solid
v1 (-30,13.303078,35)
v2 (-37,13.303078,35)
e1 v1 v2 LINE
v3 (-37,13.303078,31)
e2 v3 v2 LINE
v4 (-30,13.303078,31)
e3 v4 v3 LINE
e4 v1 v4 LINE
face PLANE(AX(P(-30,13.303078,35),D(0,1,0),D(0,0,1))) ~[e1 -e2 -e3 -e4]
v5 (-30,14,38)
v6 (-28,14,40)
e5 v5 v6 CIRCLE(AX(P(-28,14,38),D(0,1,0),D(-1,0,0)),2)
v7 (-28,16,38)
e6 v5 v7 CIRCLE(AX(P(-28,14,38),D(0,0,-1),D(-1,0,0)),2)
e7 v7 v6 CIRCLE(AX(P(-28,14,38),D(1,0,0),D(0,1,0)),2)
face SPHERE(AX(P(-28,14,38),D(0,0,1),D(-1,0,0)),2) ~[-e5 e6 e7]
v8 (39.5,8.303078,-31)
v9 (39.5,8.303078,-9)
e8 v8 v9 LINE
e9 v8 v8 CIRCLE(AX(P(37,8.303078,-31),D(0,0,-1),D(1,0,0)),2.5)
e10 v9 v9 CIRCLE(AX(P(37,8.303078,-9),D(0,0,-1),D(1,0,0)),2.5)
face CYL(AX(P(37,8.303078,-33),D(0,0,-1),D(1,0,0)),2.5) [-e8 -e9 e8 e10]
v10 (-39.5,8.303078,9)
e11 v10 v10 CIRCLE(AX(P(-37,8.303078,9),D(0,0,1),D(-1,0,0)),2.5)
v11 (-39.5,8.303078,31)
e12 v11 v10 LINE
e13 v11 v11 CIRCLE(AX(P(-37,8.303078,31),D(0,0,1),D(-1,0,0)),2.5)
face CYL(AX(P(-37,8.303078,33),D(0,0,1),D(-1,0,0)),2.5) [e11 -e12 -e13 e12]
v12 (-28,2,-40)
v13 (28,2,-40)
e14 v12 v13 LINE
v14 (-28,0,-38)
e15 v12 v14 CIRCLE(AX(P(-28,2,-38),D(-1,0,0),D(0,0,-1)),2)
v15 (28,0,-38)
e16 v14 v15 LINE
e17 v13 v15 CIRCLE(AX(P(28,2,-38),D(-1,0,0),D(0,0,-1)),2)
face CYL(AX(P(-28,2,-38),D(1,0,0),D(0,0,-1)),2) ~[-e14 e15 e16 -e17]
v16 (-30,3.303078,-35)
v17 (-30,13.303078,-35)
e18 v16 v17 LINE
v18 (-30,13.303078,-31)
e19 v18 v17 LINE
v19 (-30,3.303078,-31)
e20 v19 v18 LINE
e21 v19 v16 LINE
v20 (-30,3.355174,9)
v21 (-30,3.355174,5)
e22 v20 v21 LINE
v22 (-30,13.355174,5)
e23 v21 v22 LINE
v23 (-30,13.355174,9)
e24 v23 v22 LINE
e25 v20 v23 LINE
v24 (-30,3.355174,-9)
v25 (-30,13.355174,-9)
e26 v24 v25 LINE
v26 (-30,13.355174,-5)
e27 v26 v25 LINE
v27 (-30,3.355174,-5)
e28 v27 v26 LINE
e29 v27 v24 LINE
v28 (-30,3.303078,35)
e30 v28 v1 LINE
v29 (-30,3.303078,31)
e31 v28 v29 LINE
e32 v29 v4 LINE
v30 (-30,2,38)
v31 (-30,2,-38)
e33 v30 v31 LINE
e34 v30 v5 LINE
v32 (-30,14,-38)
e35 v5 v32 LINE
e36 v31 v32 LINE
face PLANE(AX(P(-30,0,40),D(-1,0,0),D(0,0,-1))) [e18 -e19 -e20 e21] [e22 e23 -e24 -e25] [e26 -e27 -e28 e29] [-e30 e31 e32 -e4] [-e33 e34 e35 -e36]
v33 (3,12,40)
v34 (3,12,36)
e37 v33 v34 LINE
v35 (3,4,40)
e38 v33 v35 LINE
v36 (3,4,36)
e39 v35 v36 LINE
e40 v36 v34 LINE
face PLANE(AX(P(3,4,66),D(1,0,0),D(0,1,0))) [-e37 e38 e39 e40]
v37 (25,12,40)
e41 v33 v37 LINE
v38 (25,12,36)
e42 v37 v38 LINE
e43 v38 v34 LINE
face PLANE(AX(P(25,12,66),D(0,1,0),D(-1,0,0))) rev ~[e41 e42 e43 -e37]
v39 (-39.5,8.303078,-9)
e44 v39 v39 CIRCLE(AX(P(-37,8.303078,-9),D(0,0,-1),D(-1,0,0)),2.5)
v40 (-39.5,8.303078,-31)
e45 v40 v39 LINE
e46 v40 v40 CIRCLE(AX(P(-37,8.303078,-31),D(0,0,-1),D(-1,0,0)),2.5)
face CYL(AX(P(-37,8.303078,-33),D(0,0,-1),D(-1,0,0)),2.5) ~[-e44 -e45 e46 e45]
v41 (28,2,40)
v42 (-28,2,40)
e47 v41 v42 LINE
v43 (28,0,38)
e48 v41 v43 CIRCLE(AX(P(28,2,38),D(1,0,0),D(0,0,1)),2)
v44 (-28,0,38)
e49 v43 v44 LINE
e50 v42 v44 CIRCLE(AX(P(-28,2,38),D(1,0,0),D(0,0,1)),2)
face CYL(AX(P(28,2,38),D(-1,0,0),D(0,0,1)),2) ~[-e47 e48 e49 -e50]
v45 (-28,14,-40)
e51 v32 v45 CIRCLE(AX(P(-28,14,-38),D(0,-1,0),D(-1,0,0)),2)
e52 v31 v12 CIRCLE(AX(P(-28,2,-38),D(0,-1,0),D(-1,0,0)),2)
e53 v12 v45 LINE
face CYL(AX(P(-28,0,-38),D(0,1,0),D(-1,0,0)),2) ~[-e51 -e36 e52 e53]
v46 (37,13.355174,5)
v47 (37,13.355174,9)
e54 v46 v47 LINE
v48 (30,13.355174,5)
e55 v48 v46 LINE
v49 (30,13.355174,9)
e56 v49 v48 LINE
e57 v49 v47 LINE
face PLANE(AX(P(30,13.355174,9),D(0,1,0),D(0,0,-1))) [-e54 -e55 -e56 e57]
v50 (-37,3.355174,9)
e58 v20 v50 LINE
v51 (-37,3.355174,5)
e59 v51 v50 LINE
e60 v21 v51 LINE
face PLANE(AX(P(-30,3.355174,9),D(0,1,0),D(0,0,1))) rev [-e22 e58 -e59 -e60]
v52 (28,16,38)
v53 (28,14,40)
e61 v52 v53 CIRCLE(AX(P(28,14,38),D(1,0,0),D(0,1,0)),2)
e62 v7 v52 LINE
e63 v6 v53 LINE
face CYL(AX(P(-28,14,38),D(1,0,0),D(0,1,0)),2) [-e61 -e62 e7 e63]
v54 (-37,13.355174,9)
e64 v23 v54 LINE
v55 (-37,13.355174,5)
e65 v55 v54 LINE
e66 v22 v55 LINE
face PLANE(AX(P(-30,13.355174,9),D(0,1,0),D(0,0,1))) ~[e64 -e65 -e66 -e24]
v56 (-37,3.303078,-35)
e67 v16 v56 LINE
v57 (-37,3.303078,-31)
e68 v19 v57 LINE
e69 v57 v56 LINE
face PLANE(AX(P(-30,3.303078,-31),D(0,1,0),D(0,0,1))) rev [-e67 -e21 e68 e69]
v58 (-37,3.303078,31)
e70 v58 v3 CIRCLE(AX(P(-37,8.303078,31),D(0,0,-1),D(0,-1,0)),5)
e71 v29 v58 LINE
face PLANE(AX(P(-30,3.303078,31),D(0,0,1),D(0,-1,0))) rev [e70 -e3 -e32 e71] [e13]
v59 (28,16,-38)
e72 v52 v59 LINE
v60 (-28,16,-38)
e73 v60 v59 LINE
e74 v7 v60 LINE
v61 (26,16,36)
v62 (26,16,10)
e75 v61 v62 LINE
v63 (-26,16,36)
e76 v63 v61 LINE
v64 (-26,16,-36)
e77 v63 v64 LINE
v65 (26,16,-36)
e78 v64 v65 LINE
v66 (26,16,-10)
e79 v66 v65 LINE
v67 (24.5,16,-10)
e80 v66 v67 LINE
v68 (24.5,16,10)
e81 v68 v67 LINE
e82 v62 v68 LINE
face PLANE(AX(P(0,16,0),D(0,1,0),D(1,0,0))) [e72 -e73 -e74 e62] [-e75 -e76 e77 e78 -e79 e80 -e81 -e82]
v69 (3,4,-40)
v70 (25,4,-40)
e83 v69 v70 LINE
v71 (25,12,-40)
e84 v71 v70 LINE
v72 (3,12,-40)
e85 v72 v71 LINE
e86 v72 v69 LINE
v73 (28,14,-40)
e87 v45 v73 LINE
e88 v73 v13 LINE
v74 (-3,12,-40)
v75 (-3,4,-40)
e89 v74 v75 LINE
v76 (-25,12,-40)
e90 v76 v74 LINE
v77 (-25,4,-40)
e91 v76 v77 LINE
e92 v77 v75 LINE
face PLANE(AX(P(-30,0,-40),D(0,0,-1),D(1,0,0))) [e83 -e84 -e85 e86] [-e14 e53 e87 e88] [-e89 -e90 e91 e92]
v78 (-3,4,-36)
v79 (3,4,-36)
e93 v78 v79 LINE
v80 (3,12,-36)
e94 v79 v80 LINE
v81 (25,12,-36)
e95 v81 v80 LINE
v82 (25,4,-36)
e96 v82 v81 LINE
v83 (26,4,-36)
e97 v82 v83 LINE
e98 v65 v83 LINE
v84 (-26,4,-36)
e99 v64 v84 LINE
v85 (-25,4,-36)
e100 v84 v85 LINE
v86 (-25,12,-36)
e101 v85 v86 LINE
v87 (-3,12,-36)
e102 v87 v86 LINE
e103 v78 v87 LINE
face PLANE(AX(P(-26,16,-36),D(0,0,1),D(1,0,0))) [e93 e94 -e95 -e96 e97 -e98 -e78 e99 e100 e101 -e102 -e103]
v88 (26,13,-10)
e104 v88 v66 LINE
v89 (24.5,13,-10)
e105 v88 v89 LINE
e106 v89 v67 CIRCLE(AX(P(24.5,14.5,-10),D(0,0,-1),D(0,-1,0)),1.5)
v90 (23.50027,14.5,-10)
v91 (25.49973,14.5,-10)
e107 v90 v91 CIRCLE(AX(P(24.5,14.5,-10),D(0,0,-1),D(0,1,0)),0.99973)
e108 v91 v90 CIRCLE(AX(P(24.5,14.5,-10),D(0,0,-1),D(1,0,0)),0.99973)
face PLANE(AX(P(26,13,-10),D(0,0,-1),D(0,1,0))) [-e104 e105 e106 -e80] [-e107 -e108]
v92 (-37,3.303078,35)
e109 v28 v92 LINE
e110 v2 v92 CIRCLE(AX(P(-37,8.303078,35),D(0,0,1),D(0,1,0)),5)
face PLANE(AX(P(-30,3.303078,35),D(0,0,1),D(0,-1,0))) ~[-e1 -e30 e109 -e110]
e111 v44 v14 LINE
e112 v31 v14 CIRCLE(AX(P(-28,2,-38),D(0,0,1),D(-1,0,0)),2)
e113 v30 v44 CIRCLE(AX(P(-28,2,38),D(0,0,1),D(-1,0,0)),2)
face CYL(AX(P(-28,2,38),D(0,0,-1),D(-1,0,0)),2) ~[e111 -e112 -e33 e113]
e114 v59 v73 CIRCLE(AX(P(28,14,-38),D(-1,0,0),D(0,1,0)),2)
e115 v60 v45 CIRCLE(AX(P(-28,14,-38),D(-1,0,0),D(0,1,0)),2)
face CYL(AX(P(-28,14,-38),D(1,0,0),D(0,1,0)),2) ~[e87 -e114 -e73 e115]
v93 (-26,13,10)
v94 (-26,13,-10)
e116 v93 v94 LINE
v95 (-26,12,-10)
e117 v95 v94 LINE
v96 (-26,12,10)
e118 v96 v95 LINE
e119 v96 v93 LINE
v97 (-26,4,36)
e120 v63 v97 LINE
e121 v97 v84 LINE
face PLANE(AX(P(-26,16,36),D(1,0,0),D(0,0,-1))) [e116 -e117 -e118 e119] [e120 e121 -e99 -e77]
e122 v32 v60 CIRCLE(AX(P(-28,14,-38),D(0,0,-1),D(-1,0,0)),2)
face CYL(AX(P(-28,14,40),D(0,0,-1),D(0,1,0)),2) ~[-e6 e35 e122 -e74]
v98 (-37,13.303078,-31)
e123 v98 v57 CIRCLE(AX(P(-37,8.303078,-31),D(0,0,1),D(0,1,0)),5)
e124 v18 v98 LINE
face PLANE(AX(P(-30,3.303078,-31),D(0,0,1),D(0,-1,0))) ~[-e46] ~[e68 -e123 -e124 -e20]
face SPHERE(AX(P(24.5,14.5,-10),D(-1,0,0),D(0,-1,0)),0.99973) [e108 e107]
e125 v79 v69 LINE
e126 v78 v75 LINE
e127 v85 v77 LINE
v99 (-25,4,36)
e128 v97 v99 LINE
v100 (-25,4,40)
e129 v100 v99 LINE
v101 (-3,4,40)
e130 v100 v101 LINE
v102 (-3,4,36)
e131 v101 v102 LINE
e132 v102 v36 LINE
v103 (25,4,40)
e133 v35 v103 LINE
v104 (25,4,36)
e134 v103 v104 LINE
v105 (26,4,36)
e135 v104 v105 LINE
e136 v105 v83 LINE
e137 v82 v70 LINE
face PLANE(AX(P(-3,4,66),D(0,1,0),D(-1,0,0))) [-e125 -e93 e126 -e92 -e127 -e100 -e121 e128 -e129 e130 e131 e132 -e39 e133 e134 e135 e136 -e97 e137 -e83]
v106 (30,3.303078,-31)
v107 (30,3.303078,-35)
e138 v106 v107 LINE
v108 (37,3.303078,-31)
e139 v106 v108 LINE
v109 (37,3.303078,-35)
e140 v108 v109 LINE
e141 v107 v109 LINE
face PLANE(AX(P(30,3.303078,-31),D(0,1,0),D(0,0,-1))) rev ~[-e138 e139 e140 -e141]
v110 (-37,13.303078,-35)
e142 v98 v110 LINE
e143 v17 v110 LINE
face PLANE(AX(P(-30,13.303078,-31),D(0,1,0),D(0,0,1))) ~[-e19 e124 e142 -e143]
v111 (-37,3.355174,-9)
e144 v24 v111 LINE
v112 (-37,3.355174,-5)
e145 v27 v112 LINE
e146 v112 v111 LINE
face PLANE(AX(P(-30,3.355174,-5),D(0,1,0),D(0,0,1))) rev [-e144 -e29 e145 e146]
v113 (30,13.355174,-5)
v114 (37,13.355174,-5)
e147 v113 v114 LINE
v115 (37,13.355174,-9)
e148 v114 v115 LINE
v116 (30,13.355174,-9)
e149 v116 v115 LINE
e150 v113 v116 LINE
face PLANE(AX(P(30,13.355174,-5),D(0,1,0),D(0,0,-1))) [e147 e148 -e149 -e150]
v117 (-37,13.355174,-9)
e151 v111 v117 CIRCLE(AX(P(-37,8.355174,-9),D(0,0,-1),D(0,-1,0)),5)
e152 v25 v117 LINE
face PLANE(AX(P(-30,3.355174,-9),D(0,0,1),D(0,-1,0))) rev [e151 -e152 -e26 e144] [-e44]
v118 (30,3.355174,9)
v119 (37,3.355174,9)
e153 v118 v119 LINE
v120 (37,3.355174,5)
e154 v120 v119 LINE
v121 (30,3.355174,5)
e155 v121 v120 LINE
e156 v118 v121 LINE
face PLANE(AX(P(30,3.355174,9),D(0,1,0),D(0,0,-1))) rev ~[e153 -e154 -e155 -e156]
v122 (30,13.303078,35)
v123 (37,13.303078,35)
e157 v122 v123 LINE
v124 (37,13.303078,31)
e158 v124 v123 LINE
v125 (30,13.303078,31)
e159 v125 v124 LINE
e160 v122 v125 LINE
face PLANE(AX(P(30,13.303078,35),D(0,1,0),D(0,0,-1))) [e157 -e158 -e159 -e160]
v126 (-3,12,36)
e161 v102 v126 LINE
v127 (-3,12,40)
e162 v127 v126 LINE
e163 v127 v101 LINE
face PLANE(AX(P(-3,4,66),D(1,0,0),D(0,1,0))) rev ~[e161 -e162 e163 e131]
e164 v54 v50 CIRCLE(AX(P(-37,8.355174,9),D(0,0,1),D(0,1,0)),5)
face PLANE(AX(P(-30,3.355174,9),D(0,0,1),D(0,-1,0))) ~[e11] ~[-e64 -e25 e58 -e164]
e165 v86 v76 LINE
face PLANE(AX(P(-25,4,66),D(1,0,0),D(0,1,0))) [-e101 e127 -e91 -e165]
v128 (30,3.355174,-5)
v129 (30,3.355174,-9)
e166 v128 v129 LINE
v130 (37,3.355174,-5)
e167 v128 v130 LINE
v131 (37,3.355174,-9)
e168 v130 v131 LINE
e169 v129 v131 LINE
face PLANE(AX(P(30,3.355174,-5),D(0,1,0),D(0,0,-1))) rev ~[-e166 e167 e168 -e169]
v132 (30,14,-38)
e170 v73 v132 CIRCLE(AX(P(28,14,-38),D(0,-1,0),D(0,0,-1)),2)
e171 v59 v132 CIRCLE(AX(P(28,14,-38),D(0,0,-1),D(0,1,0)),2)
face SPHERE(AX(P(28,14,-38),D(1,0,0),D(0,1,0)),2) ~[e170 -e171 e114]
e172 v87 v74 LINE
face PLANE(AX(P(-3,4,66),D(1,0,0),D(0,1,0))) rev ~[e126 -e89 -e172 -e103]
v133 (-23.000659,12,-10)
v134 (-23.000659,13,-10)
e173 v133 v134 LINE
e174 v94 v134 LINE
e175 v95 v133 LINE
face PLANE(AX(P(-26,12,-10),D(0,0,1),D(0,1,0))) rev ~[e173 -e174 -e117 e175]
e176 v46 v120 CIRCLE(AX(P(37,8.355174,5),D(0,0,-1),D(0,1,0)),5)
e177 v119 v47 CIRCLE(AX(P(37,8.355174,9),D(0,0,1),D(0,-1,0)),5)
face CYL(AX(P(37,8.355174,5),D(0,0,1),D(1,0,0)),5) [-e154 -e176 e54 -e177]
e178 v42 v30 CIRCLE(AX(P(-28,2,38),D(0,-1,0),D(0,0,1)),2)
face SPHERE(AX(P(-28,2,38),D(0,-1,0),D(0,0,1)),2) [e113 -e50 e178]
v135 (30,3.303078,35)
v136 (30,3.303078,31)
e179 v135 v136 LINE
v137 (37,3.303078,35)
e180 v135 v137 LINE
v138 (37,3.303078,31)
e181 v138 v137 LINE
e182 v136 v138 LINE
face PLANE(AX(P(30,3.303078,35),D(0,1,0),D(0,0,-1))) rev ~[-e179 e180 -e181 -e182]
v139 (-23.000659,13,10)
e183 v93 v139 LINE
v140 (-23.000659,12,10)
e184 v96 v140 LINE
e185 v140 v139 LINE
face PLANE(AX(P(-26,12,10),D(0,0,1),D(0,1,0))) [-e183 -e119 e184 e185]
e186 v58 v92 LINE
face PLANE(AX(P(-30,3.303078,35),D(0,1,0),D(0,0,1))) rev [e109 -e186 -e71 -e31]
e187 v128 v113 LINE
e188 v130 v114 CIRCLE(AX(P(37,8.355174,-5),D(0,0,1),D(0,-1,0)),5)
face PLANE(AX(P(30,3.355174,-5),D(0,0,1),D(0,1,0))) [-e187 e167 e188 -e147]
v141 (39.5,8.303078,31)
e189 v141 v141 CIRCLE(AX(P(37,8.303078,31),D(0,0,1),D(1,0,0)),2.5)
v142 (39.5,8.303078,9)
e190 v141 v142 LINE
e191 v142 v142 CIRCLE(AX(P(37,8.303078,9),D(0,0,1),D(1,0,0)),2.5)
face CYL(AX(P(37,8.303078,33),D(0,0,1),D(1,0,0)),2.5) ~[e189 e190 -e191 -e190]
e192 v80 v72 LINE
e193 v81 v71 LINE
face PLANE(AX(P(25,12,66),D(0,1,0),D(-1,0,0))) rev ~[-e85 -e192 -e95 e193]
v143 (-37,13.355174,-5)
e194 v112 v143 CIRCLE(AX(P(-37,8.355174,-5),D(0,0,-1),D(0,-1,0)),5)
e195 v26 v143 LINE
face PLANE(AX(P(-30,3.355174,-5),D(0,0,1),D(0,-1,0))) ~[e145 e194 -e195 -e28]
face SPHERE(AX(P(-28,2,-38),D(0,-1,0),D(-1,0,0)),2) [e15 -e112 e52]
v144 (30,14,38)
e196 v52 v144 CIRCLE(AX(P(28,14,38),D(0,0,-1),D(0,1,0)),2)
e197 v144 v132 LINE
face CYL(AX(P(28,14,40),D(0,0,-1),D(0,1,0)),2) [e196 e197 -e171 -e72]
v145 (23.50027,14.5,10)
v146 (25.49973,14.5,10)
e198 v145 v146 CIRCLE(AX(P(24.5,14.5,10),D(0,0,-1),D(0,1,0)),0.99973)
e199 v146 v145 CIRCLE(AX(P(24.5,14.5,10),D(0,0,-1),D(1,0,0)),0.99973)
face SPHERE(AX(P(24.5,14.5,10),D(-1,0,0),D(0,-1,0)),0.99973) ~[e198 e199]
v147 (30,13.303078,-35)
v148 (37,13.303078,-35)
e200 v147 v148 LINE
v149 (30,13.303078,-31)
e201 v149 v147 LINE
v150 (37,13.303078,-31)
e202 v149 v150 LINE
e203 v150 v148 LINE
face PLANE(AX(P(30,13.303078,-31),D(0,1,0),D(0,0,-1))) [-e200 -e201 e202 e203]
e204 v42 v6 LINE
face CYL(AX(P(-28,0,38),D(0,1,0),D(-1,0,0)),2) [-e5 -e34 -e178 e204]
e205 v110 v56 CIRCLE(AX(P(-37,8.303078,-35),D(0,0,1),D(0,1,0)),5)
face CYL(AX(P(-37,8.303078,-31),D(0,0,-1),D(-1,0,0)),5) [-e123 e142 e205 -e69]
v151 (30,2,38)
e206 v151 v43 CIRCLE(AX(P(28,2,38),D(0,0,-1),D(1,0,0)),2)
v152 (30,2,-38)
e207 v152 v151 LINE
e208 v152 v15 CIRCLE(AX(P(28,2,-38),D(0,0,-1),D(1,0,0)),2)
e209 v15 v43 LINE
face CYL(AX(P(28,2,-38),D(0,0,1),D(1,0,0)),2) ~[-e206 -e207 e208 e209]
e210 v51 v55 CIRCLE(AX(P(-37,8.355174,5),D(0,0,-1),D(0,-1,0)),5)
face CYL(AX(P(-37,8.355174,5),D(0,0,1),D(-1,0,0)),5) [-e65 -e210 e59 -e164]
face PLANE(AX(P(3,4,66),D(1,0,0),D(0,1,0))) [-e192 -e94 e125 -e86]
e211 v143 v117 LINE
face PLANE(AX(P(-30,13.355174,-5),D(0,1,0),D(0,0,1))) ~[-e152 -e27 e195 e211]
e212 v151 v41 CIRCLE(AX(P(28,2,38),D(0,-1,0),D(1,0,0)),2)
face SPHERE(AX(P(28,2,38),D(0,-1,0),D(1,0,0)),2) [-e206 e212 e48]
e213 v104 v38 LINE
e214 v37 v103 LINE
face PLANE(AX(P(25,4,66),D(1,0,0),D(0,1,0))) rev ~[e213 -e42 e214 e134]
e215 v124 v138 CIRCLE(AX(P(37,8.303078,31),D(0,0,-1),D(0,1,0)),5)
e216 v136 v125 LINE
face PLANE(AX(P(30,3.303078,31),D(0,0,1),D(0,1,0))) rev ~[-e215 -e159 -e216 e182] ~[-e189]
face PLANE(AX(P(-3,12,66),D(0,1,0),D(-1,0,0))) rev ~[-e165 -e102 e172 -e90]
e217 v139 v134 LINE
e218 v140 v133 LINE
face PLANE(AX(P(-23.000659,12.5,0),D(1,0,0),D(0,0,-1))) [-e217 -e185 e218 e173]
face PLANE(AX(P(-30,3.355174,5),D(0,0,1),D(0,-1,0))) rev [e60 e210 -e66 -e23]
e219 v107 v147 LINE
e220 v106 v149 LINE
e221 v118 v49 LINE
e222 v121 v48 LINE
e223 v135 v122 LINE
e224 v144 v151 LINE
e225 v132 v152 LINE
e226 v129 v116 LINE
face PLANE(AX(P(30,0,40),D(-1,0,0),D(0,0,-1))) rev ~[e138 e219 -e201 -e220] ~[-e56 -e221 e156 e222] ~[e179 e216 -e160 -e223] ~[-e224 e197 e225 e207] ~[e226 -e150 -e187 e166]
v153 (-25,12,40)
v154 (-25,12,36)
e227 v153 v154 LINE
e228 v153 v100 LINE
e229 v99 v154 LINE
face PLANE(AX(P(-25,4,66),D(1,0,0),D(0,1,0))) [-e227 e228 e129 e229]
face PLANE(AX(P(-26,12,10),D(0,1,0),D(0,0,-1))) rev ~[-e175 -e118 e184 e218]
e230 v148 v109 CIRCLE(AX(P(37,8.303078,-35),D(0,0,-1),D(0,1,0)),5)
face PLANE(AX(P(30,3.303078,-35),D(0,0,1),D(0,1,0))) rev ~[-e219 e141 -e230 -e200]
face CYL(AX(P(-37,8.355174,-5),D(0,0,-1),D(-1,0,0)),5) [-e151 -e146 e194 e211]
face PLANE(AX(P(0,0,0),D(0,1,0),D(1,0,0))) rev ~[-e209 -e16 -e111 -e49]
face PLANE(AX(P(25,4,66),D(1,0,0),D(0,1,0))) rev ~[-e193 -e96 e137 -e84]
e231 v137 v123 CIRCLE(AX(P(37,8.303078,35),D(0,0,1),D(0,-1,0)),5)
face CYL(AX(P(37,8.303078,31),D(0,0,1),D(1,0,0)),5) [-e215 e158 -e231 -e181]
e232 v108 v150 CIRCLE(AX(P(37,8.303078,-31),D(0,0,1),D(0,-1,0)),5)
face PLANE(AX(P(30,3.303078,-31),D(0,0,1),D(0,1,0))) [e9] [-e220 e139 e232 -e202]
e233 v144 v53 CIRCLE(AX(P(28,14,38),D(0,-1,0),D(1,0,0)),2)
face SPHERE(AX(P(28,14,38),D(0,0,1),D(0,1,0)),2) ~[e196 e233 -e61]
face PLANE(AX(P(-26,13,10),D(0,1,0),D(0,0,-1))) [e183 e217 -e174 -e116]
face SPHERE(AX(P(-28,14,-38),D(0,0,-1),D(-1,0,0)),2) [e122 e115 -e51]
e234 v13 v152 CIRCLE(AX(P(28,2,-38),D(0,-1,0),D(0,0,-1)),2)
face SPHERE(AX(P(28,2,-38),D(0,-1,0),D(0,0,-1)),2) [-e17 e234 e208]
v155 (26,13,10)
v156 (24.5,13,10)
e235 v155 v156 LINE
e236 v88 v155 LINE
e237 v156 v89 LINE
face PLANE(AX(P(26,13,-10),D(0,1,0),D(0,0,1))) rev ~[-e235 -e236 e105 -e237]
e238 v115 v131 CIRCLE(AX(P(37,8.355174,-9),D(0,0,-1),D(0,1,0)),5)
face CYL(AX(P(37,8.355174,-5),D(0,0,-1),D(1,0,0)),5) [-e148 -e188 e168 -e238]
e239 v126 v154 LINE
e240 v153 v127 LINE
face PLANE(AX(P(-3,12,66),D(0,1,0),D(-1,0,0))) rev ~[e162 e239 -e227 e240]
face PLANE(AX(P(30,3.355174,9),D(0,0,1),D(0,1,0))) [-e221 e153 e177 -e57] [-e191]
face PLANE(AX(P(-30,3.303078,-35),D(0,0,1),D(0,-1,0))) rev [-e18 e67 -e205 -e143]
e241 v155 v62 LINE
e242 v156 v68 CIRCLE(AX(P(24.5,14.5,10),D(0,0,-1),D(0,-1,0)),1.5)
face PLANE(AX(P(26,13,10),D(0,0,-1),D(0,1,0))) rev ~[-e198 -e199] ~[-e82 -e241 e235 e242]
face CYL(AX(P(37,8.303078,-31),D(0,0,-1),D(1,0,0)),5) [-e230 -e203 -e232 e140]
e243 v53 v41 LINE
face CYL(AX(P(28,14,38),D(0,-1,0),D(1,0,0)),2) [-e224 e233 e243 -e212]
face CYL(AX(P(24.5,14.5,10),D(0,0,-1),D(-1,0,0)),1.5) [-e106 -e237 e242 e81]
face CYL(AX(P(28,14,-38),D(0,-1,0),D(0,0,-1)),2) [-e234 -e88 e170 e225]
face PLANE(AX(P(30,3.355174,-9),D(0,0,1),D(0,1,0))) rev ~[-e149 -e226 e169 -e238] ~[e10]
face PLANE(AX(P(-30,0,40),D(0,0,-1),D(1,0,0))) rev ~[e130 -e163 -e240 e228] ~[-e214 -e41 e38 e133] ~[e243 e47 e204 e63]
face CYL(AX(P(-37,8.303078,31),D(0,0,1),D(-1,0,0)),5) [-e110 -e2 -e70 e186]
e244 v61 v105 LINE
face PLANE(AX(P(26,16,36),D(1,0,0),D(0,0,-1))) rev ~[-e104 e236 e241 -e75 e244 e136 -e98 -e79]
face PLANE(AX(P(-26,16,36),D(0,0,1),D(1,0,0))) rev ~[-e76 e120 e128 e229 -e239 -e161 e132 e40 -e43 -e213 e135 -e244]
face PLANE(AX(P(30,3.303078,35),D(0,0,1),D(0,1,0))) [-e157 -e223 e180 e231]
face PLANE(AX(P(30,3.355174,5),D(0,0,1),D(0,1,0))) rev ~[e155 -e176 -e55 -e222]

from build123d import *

# Parameters (mm, degrees)
SKETCH2_W                   = 60
SKETCH2_H                   = 80
BOSS_EXTRUDE2_DEPTH         = 16
SKETCH6_W                   = 52
SKETCH6_H                   = 72
CUT_EXTRUDE1_DEPTH          = 12
CUT_EXTRUDE2_DEPTH          = 16
CUT_EXTRUDE2_DEPTH_BACK     = 106
SKETCH7_W                   = 22
SKETCH7_H                   = 8
SKETCH8_W                   = 4
SKETCH8_H                   = 10
BOSS_EXTRUDE3_DEPTH         = 12
FILLET1_RADIUS              = 5
FILLET1_LENGTH              = 4
FILLET2_RADIUS              = 5
FILLET2_LENGTH              = 4
FILLET3_RADIUS              = 5
FILLET3_LENGTH              = 4
FILLET4_RADIUS              = 5
FILLET4_LENGTH              = 4
BOSS_EXTRUDE4_START         = -2
SKETCH9_R                   = 2.5
BOSS_EXTRUDE4_DEPTH         = 26
MIRROR2_START               = -2
MIRROR2_COPY_1_SKETCH_R     = 2.5
MIRROR2_COPY_1_DEPTH        = 26
FILLET1_OF_MIRROR2_2_RADIUS = 5
FILLET1_OF_MIRROR2_2_LENGTH = 4
FILLET2_OF_MIRROR2_2_RADIUS = 5
FILLET2_OF_MIRROR2_2_LENGTH = 4
FILLET3_OF_MIRROR2_2_RADIUS = 5
FILLET3_OF_MIRROR2_2_LENGTH = 4
FILLET4_OF_MIRROR2_2_RADIUS = 5
FILLET4_OF_MIRROR2_2_LENGTH = 4
SKETCH10_W                  = 20
SKETCH10_H                  = 1
BOSS_EXTRUDE5_DEPTH         = 2.999340988
SKETCH12_W                  = 20
SKETCH12_H                  = 3
BOSS_EXTRUDE6_DEPTH         = 3
FILLET6_RADIUS              = 1.5
FILLET6_LENGTH              = 20
FILLET7_R                   = 2
FILLET8_R                   = 2
FILLET9_R                   = 2
FILLET10_R                  = 2
FILLET11_R                  = 2


with BuildPart() as part:
    # Sketch2 → Boss-Extrude2 (new body)
    with BuildSketch(Plane(origin=(0, 0, 0), x_dir=(1, 0, 0), z_dir=(0, 1, 0))):
        Rectangle(SKETCH2_W, SKETCH2_H)
    extrude(amount=BOSS_EXTRUDE2_DEPTH)

    # Sketch6 → Cut-Extrude1 (cut)
    with BuildSketch(Plane(origin=(0, 16, 0), x_dir=(1, 0, 0), z_dir=(0, 1, 0))):
        Rectangle(SKETCH6_W, SKETCH6_H)
    extrude(amount=-CUT_EXTRUDE1_DEPTH, mode=Mode.SUBTRACT)

    # Sketch7 → Cut-Extrude2 (cut, two sides: drawn at the far end of the back side and taken through both)
    with BuildSketch(Plane(origin=(0, 0, -40), x_dir=(-1, 0, 0), z_dir=(0, 0, -1)).offset(-CUT_EXTRUDE2_DEPTH_BACK)):
        with Locations((-14, 8)):
            Rectangle(SKETCH7_W, SKETCH7_H)
        with Locations((14, 8)):
            Rectangle(SKETCH7_W, SKETCH7_H)
    extrude(amount=CUT_EXTRUDE2_DEPTH + CUT_EXTRUDE2_DEPTH_BACK, mode=Mode.SUBTRACT)

    # Sketch8 → Boss-Extrude3 (add)
    with BuildSketch(Plane(origin=(30, 0, 0), x_dir=(0, 0, -1), z_dir=(1, 0, 0))):
        with Locations((-33, 8.303078398)):
            Rectangle(SKETCH8_W, SKETCH8_H)
        with Locations((-7, 8.355173675)):
            Rectangle(SKETCH8_W, SKETCH8_H)
        with Locations((7, 8.355173675)):
            Rectangle(SKETCH8_W, SKETCH8_H)
        with Locations((33, 8.303078398)):
            Rectangle(SKETCH8_W, SKETCH8_H)
    boss_extrude3 = extrude(amount=BOSS_EXTRUDE3_DEPTH)

    # Fillet1: full round fillet: the end face becomes a half cylinder, R = half its width
    fillet1_face = Plane((42, 8.303078398, 33), x_dir=(0, 0, 1), z_dir=(1, 0, 0))  # on the end face: x along it, z out of the body
    fillet1_slab = fillet1_face.offset(-FILLET1_RADIUS / 2) * Box(FILLET1_LENGTH, 2 * FILLET1_RADIUS, FILLET1_RADIUS, mode=Mode.PRIVATE)  # the body's end, R deep
    fillet1_round = Plane((37, 8.303078398, 33), x_dir=(1, 0, 0), z_dir=(0, 0, 1)) * Cylinder(FILLET1_RADIUS, FILLET1_LENGTH, mode=Mode.PRIVATE)  # its axis R under the face
    add(fillet1_slab - fillet1_round, mode=Mode.SUBTRACT)

    # Fillet2: full round fillet: the end face becomes a half cylinder, R = half its width
    fillet2_face = Plane((42, 8.355173675, 7), x_dir=(0, 0, 1), z_dir=(1, 0, 0))  # on the end face: x along it, z out of the body
    fillet2_slab = fillet2_face.offset(-FILLET2_RADIUS / 2) * Box(FILLET2_LENGTH, 2 * FILLET2_RADIUS, FILLET2_RADIUS, mode=Mode.PRIVATE)  # the body's end, R deep
    fillet2_round = Plane((37, 8.355173675, 7), x_dir=(1, 0, 0), z_dir=(0, 0, 1)) * Cylinder(FILLET2_RADIUS, FILLET2_LENGTH, mode=Mode.PRIVATE)  # its axis R under the face
    add(fillet2_slab - fillet2_round, mode=Mode.SUBTRACT)

    # Fillet3: full round fillet: the end face becomes a half cylinder, R = half its width
    fillet3_face = Plane((42, 8.355173675, -7), x_dir=(0, 0, -1), z_dir=(1, 0, 0))  # on the end face: x along it, z out of the body
    fillet3_slab = fillet3_face.offset(-FILLET3_RADIUS / 2) * Box(FILLET3_LENGTH, 2 * FILLET3_RADIUS, FILLET3_RADIUS, mode=Mode.PRIVATE)  # the body's end, R deep
    fillet3_round = Plane((37, 8.355173675, -7), x_dir=(1, 0, 0), z_dir=(0, 0, -1)) * Cylinder(FILLET3_RADIUS, FILLET3_LENGTH, mode=Mode.PRIVATE)  # its axis R under the face
    add(fillet3_slab - fillet3_round, mode=Mode.SUBTRACT)

    # Fillet4: full round fillet: the end face becomes a half cylinder, R = half its width
    fillet4_face = Plane((42, 8.303078398, -33), x_dir=(0, 0, -1), z_dir=(1, 0, 0))  # on the end face: x along it, z out of the body
    fillet4_slab = fillet4_face.offset(-FILLET4_RADIUS / 2) * Box(FILLET4_LENGTH, 2 * FILLET4_RADIUS, FILLET4_RADIUS, mode=Mode.PRIVATE)  # the body's end, R deep
    fillet4_round = Plane((37, 8.303078398, -33), x_dir=(1, 0, 0), z_dir=(0, 0, -1)) * Cylinder(FILLET4_RADIUS, FILLET4_LENGTH, mode=Mode.PRIVATE)  # its axis R under the face
    add(fillet4_slab - fillet4_round, mode=Mode.SUBTRACT)

    # Sketch9 → Boss-Extrude4 (add)
    with BuildSketch(Plane(origin=(0, 0, 31), x_dir=(-1, 0, 0), z_dir=(0, 0, -1)).offset(BOSS_EXTRUDE4_START)):
        with Locations(Location((-37, 8.303078398, 0), (0, 0, 180))):
            Circle(SKETCH9_R)
    boss_extrude4 = extrude(amount=BOSS_EXTRUDE4_DEPTH)

    # Mirror1: Boss-Extrude4 across plane
    add(boss_extrude4.mirror(Plane(origin=(0, 0, 0), x_dir=(1, 0, 0), z_dir=(0, 0, -1))))

    # Mirror2: Boss-Extrude3, Boss-Extrude4 across plane
    add(boss_extrude3.mirror(Plane(origin=(0, 0, 0), x_dir=(0, 0, 1), z_dir=(1, 0, 0))))
    add(boss_extrude4.mirror(Plane(origin=(0, 0, 0), x_dir=(0, 0, 1), z_dir=(1, 0, 0))))

    # Mirror2 copy 1 sketch → Mirror2 copy 1 (add)
    with BuildSketch(Plane.XY.offset(-31).offset(MIRROR2_START)):
        with Locations(Location((-37, 8.303078398, 0), (0, 0, 180))):
            Circle(MIRROR2_COPY_1_SKETCH_R)
    extrude(amount=MIRROR2_COPY_1_DEPTH)

    # Fillet1 of Mirror2 2: full round fillet: the end face becomes a half cylinder, R = half its width
    fillet1_of_mirror2_2_face = Plane((-42, 8.303078398, 33), x_dir=(0, 0, 1), z_dir=(-1, 0, 0))  # on the end face: x along it, z out of the body
    fillet1_of_mirror2_2_slab = fillet1_of_mirror2_2_face.offset(-FILLET1_OF_MIRROR2_2_RADIUS / 2) * Box(FILLET1_OF_MIRROR2_2_LENGTH, 2 * FILLET1_OF_MIRROR2_2_RADIUS, FILLET1_OF_MIRROR2_2_RADIUS, mode=Mode.PRIVATE)  # the body's end, R deep
    fillet1_of_mirror2_2_round = Plane((-37, 8.303078398, 33), x_dir=(-1, 0, 0), z_dir=(0, 0, 1)) * Cylinder(FILLET1_OF_MIRROR2_2_RADIUS, FILLET1_OF_MIRROR2_2_LENGTH, mode=Mode.PRIVATE)  # its axis R under the face
    add(fillet1_of_mirror2_2_slab - fillet1_of_mirror2_2_round, mode=Mode.SUBTRACT)

    # Fillet2 of Mirror2 2: full round fillet: the end face becomes a half cylinder, R = half its width
    fillet2_of_mirror2_2_face = Plane((-42, 8.355173675, 7), x_dir=(0, 0, 1), z_dir=(-1, 0, 0))  # on the end face: x along it, z out of the body
    fillet2_of_mirror2_2_slab = fillet2_of_mirror2_2_face.offset(-FILLET2_OF_MIRROR2_2_RADIUS / 2) * Box(FILLET2_OF_MIRROR2_2_LENGTH, 2 * FILLET2_OF_MIRROR2_2_RADIUS, FILLET2_OF_MIRROR2_2_RADIUS, mode=Mode.PRIVATE)  # the body's end, R deep
    fillet2_of_mirror2_2_round = Plane((-37, 8.355173675, 7), x_dir=(-1, 0, 0), z_dir=(0, 0, 1)) * Cylinder(FILLET2_OF_MIRROR2_2_RADIUS, FILLET2_OF_MIRROR2_2_LENGTH, mode=Mode.PRIVATE)  # its axis R under the face
    add(fillet2_of_mirror2_2_slab - fillet2_of_mirror2_2_round, mode=Mode.SUBTRACT)

    # Fillet3 of Mirror2 2: full round fillet: the end face becomes a half cylinder, R = half its width
    fillet3_of_mirror2_2_face = Plane((-42, 8.355173675, -7), x_dir=(0, 0, -1), z_dir=(-1, 0, 0))  # on the end face: x along it, z out of the body
    fillet3_of_mirror2_2_slab = fillet3_of_mirror2_2_face.offset(-FILLET3_OF_MIRROR2_2_RADIUS / 2) * Box(FILLET3_OF_MIRROR2_2_LENGTH, 2 * FILLET3_OF_MIRROR2_2_RADIUS, FILLET3_OF_MIRROR2_2_RADIUS, mode=Mode.PRIVATE)  # the body's end, R deep
    fillet3_of_mirror2_2_round = Plane((-37, 8.355173675, -7), x_dir=(-1, 0, 0), z_dir=(0, 0, -1)) * Cylinder(FILLET3_OF_MIRROR2_2_RADIUS, FILLET3_OF_MIRROR2_2_LENGTH, mode=Mode.PRIVATE)  # its axis R under the face
    add(fillet3_of_mirror2_2_slab - fillet3_of_mirror2_2_round, mode=Mode.SUBTRACT)

    # Fillet4 of Mirror2 2: full round fillet: the end face becomes a half cylinder, R = half its width
    fillet4_of_mirror2_2_face = Plane((-42, 8.303078398, -33), x_dir=(0, 0, -1), z_dir=(-1, 0, 0))  # on the end face: x along it, z out of the body
    fillet4_of_mirror2_2_slab = fillet4_of_mirror2_2_face.offset(-FILLET4_OF_MIRROR2_2_RADIUS / 2) * Box(FILLET4_OF_MIRROR2_2_LENGTH, 2 * FILLET4_OF_MIRROR2_2_RADIUS, FILLET4_OF_MIRROR2_2_RADIUS, mode=Mode.PRIVATE)  # the body's end, R deep
    fillet4_of_mirror2_2_round = Plane((-37, 8.303078398, -33), x_dir=(-1, 0, 0), z_dir=(0, 0, -1)) * Cylinder(FILLET4_OF_MIRROR2_2_RADIUS, FILLET4_OF_MIRROR2_2_LENGTH, mode=Mode.PRIVATE)  # its axis R under the face
    add(fillet4_of_mirror2_2_slab - fillet4_of_mirror2_2_round, mode=Mode.SUBTRACT)

    # Sketch10 → Boss-Extrude5 (add)
    with BuildSketch(Plane(origin=(-26, 0, 0), x_dir=(0, 0, -1), z_dir=(1, 0, 0))):
        with Locations((0, 12.5)):
            Rectangle(SKETCH10_W, SKETCH10_H)
    extrude(amount=BOSS_EXTRUDE5_DEPTH)

    # Sketch12 → Boss-Extrude6 (add)
    with BuildSketch(Plane.ZY.offset(-26)):
        with Locations((0, 14.5)):
            Rectangle(SKETCH12_W, SKETCH12_H)
    extrude(amount=BOSS_EXTRUDE6_DEPTH)

    # Sketch13 → Revolve1 (revolve)
    with BuildSketch(Plane.XY.offset(10)):
        with BuildLine():
            Line((23.50027011, 14.5), (25.49972989, 14.5))
            ThreePointArc((25.49972989, 14.5), (24.5, 13.50027011), (23.50027011, 14.5))
        make_face()
    revolve1 = revolve(axis=Axis((23.50027011, 14.5, 10), (1, 0, 0)))

    # Mirror3: Revolve1 across plane
    add(revolve1.mirror(Plane(origin=(0, 0, 0), x_dir=(1, 0, 0), z_dir=(0, 0, -1))))

    # Fillet6: full round fillet: the end face becomes a half cylinder, R = half its width
    fillet6_face = Plane((23, 14.5, 0), x_dir=(0, 0, -1), z_dir=(-1, 0, 0))  # on the end face: x along it, z out of the body
    fillet6_slab = fillet6_face.offset(-FILLET6_RADIUS / 2) * Box(FILLET6_LENGTH, 2 * FILLET6_RADIUS, FILLET6_RADIUS, mode=Mode.PRIVATE)  # the body's end, R deep
    fillet6_round = Plane((24.5, 14.5, 0), x_dir=(-1, 0, 0), z_dir=(0, 0, -1)) * Cylinder(FILLET6_RADIUS, FILLET6_LENGTH, mode=Mode.PRIVATE)  # its axis R under the face
    add(fillet6_slab - fillet6_round, mode=Mode.SUBTRACT)

    # Fillet7
    fillet7_edges = [part.edges().sort_by_distance(p)[0] for p in [
        (-30, 16, 0),
    ]]
    fillet(fillet7_edges, radius=FILLET7_R)

    # Fillet8
    fillet8_edges = [part.edges().sort_by_distance(p)[0] for p in [
        (1, 16, -40),
        (-30, 7, -40),
        (-29.414213562, 15.414213562, -40),
    ]]
    fillet(fillet8_edges, radius=FILLET8_R)

    # Fillet9
    fillet9_edges = [part.edges().sort_by_distance(p)[0] for p in [
        (30, 16, 1),
        (30, 7, -40),
        (30, 15.414213562, -39.414213562),
    ]]
    fillet(fillet9_edges, radius=FILLET9_R)

    # Fillet10
    fillet10_edges = [part.edges().sort_by_distance(p)[0] for p in [
        (0, 16, 40),
        (-30, 7, 40),
        (-29.414213562, 15.414213562, 40),
        (30, 7, 40),
        (29.414213562, 15.414213562, 40),
    ]]
    fillet(fillet10_edges, radius=FILLET10_R)

    # Fillet11
    fillet11_edges = [part.edges().sort_by_distance(p)[0] for p in [
        (0, 0, -40),
        (-30, 0, 0),
        (-29.414213562, 0, -39.414213562),
        (30, 0, 0),
        (29.414213562, 0, -39.414213562),
        (0, 0, 40),
        (29.414213562, 0, 39.414213562),
        (-29.414213562, 0, 39.414213562),
    ]]
    fillet(fillet11_edges, radius=FILLET11_R)


solid = part.part
